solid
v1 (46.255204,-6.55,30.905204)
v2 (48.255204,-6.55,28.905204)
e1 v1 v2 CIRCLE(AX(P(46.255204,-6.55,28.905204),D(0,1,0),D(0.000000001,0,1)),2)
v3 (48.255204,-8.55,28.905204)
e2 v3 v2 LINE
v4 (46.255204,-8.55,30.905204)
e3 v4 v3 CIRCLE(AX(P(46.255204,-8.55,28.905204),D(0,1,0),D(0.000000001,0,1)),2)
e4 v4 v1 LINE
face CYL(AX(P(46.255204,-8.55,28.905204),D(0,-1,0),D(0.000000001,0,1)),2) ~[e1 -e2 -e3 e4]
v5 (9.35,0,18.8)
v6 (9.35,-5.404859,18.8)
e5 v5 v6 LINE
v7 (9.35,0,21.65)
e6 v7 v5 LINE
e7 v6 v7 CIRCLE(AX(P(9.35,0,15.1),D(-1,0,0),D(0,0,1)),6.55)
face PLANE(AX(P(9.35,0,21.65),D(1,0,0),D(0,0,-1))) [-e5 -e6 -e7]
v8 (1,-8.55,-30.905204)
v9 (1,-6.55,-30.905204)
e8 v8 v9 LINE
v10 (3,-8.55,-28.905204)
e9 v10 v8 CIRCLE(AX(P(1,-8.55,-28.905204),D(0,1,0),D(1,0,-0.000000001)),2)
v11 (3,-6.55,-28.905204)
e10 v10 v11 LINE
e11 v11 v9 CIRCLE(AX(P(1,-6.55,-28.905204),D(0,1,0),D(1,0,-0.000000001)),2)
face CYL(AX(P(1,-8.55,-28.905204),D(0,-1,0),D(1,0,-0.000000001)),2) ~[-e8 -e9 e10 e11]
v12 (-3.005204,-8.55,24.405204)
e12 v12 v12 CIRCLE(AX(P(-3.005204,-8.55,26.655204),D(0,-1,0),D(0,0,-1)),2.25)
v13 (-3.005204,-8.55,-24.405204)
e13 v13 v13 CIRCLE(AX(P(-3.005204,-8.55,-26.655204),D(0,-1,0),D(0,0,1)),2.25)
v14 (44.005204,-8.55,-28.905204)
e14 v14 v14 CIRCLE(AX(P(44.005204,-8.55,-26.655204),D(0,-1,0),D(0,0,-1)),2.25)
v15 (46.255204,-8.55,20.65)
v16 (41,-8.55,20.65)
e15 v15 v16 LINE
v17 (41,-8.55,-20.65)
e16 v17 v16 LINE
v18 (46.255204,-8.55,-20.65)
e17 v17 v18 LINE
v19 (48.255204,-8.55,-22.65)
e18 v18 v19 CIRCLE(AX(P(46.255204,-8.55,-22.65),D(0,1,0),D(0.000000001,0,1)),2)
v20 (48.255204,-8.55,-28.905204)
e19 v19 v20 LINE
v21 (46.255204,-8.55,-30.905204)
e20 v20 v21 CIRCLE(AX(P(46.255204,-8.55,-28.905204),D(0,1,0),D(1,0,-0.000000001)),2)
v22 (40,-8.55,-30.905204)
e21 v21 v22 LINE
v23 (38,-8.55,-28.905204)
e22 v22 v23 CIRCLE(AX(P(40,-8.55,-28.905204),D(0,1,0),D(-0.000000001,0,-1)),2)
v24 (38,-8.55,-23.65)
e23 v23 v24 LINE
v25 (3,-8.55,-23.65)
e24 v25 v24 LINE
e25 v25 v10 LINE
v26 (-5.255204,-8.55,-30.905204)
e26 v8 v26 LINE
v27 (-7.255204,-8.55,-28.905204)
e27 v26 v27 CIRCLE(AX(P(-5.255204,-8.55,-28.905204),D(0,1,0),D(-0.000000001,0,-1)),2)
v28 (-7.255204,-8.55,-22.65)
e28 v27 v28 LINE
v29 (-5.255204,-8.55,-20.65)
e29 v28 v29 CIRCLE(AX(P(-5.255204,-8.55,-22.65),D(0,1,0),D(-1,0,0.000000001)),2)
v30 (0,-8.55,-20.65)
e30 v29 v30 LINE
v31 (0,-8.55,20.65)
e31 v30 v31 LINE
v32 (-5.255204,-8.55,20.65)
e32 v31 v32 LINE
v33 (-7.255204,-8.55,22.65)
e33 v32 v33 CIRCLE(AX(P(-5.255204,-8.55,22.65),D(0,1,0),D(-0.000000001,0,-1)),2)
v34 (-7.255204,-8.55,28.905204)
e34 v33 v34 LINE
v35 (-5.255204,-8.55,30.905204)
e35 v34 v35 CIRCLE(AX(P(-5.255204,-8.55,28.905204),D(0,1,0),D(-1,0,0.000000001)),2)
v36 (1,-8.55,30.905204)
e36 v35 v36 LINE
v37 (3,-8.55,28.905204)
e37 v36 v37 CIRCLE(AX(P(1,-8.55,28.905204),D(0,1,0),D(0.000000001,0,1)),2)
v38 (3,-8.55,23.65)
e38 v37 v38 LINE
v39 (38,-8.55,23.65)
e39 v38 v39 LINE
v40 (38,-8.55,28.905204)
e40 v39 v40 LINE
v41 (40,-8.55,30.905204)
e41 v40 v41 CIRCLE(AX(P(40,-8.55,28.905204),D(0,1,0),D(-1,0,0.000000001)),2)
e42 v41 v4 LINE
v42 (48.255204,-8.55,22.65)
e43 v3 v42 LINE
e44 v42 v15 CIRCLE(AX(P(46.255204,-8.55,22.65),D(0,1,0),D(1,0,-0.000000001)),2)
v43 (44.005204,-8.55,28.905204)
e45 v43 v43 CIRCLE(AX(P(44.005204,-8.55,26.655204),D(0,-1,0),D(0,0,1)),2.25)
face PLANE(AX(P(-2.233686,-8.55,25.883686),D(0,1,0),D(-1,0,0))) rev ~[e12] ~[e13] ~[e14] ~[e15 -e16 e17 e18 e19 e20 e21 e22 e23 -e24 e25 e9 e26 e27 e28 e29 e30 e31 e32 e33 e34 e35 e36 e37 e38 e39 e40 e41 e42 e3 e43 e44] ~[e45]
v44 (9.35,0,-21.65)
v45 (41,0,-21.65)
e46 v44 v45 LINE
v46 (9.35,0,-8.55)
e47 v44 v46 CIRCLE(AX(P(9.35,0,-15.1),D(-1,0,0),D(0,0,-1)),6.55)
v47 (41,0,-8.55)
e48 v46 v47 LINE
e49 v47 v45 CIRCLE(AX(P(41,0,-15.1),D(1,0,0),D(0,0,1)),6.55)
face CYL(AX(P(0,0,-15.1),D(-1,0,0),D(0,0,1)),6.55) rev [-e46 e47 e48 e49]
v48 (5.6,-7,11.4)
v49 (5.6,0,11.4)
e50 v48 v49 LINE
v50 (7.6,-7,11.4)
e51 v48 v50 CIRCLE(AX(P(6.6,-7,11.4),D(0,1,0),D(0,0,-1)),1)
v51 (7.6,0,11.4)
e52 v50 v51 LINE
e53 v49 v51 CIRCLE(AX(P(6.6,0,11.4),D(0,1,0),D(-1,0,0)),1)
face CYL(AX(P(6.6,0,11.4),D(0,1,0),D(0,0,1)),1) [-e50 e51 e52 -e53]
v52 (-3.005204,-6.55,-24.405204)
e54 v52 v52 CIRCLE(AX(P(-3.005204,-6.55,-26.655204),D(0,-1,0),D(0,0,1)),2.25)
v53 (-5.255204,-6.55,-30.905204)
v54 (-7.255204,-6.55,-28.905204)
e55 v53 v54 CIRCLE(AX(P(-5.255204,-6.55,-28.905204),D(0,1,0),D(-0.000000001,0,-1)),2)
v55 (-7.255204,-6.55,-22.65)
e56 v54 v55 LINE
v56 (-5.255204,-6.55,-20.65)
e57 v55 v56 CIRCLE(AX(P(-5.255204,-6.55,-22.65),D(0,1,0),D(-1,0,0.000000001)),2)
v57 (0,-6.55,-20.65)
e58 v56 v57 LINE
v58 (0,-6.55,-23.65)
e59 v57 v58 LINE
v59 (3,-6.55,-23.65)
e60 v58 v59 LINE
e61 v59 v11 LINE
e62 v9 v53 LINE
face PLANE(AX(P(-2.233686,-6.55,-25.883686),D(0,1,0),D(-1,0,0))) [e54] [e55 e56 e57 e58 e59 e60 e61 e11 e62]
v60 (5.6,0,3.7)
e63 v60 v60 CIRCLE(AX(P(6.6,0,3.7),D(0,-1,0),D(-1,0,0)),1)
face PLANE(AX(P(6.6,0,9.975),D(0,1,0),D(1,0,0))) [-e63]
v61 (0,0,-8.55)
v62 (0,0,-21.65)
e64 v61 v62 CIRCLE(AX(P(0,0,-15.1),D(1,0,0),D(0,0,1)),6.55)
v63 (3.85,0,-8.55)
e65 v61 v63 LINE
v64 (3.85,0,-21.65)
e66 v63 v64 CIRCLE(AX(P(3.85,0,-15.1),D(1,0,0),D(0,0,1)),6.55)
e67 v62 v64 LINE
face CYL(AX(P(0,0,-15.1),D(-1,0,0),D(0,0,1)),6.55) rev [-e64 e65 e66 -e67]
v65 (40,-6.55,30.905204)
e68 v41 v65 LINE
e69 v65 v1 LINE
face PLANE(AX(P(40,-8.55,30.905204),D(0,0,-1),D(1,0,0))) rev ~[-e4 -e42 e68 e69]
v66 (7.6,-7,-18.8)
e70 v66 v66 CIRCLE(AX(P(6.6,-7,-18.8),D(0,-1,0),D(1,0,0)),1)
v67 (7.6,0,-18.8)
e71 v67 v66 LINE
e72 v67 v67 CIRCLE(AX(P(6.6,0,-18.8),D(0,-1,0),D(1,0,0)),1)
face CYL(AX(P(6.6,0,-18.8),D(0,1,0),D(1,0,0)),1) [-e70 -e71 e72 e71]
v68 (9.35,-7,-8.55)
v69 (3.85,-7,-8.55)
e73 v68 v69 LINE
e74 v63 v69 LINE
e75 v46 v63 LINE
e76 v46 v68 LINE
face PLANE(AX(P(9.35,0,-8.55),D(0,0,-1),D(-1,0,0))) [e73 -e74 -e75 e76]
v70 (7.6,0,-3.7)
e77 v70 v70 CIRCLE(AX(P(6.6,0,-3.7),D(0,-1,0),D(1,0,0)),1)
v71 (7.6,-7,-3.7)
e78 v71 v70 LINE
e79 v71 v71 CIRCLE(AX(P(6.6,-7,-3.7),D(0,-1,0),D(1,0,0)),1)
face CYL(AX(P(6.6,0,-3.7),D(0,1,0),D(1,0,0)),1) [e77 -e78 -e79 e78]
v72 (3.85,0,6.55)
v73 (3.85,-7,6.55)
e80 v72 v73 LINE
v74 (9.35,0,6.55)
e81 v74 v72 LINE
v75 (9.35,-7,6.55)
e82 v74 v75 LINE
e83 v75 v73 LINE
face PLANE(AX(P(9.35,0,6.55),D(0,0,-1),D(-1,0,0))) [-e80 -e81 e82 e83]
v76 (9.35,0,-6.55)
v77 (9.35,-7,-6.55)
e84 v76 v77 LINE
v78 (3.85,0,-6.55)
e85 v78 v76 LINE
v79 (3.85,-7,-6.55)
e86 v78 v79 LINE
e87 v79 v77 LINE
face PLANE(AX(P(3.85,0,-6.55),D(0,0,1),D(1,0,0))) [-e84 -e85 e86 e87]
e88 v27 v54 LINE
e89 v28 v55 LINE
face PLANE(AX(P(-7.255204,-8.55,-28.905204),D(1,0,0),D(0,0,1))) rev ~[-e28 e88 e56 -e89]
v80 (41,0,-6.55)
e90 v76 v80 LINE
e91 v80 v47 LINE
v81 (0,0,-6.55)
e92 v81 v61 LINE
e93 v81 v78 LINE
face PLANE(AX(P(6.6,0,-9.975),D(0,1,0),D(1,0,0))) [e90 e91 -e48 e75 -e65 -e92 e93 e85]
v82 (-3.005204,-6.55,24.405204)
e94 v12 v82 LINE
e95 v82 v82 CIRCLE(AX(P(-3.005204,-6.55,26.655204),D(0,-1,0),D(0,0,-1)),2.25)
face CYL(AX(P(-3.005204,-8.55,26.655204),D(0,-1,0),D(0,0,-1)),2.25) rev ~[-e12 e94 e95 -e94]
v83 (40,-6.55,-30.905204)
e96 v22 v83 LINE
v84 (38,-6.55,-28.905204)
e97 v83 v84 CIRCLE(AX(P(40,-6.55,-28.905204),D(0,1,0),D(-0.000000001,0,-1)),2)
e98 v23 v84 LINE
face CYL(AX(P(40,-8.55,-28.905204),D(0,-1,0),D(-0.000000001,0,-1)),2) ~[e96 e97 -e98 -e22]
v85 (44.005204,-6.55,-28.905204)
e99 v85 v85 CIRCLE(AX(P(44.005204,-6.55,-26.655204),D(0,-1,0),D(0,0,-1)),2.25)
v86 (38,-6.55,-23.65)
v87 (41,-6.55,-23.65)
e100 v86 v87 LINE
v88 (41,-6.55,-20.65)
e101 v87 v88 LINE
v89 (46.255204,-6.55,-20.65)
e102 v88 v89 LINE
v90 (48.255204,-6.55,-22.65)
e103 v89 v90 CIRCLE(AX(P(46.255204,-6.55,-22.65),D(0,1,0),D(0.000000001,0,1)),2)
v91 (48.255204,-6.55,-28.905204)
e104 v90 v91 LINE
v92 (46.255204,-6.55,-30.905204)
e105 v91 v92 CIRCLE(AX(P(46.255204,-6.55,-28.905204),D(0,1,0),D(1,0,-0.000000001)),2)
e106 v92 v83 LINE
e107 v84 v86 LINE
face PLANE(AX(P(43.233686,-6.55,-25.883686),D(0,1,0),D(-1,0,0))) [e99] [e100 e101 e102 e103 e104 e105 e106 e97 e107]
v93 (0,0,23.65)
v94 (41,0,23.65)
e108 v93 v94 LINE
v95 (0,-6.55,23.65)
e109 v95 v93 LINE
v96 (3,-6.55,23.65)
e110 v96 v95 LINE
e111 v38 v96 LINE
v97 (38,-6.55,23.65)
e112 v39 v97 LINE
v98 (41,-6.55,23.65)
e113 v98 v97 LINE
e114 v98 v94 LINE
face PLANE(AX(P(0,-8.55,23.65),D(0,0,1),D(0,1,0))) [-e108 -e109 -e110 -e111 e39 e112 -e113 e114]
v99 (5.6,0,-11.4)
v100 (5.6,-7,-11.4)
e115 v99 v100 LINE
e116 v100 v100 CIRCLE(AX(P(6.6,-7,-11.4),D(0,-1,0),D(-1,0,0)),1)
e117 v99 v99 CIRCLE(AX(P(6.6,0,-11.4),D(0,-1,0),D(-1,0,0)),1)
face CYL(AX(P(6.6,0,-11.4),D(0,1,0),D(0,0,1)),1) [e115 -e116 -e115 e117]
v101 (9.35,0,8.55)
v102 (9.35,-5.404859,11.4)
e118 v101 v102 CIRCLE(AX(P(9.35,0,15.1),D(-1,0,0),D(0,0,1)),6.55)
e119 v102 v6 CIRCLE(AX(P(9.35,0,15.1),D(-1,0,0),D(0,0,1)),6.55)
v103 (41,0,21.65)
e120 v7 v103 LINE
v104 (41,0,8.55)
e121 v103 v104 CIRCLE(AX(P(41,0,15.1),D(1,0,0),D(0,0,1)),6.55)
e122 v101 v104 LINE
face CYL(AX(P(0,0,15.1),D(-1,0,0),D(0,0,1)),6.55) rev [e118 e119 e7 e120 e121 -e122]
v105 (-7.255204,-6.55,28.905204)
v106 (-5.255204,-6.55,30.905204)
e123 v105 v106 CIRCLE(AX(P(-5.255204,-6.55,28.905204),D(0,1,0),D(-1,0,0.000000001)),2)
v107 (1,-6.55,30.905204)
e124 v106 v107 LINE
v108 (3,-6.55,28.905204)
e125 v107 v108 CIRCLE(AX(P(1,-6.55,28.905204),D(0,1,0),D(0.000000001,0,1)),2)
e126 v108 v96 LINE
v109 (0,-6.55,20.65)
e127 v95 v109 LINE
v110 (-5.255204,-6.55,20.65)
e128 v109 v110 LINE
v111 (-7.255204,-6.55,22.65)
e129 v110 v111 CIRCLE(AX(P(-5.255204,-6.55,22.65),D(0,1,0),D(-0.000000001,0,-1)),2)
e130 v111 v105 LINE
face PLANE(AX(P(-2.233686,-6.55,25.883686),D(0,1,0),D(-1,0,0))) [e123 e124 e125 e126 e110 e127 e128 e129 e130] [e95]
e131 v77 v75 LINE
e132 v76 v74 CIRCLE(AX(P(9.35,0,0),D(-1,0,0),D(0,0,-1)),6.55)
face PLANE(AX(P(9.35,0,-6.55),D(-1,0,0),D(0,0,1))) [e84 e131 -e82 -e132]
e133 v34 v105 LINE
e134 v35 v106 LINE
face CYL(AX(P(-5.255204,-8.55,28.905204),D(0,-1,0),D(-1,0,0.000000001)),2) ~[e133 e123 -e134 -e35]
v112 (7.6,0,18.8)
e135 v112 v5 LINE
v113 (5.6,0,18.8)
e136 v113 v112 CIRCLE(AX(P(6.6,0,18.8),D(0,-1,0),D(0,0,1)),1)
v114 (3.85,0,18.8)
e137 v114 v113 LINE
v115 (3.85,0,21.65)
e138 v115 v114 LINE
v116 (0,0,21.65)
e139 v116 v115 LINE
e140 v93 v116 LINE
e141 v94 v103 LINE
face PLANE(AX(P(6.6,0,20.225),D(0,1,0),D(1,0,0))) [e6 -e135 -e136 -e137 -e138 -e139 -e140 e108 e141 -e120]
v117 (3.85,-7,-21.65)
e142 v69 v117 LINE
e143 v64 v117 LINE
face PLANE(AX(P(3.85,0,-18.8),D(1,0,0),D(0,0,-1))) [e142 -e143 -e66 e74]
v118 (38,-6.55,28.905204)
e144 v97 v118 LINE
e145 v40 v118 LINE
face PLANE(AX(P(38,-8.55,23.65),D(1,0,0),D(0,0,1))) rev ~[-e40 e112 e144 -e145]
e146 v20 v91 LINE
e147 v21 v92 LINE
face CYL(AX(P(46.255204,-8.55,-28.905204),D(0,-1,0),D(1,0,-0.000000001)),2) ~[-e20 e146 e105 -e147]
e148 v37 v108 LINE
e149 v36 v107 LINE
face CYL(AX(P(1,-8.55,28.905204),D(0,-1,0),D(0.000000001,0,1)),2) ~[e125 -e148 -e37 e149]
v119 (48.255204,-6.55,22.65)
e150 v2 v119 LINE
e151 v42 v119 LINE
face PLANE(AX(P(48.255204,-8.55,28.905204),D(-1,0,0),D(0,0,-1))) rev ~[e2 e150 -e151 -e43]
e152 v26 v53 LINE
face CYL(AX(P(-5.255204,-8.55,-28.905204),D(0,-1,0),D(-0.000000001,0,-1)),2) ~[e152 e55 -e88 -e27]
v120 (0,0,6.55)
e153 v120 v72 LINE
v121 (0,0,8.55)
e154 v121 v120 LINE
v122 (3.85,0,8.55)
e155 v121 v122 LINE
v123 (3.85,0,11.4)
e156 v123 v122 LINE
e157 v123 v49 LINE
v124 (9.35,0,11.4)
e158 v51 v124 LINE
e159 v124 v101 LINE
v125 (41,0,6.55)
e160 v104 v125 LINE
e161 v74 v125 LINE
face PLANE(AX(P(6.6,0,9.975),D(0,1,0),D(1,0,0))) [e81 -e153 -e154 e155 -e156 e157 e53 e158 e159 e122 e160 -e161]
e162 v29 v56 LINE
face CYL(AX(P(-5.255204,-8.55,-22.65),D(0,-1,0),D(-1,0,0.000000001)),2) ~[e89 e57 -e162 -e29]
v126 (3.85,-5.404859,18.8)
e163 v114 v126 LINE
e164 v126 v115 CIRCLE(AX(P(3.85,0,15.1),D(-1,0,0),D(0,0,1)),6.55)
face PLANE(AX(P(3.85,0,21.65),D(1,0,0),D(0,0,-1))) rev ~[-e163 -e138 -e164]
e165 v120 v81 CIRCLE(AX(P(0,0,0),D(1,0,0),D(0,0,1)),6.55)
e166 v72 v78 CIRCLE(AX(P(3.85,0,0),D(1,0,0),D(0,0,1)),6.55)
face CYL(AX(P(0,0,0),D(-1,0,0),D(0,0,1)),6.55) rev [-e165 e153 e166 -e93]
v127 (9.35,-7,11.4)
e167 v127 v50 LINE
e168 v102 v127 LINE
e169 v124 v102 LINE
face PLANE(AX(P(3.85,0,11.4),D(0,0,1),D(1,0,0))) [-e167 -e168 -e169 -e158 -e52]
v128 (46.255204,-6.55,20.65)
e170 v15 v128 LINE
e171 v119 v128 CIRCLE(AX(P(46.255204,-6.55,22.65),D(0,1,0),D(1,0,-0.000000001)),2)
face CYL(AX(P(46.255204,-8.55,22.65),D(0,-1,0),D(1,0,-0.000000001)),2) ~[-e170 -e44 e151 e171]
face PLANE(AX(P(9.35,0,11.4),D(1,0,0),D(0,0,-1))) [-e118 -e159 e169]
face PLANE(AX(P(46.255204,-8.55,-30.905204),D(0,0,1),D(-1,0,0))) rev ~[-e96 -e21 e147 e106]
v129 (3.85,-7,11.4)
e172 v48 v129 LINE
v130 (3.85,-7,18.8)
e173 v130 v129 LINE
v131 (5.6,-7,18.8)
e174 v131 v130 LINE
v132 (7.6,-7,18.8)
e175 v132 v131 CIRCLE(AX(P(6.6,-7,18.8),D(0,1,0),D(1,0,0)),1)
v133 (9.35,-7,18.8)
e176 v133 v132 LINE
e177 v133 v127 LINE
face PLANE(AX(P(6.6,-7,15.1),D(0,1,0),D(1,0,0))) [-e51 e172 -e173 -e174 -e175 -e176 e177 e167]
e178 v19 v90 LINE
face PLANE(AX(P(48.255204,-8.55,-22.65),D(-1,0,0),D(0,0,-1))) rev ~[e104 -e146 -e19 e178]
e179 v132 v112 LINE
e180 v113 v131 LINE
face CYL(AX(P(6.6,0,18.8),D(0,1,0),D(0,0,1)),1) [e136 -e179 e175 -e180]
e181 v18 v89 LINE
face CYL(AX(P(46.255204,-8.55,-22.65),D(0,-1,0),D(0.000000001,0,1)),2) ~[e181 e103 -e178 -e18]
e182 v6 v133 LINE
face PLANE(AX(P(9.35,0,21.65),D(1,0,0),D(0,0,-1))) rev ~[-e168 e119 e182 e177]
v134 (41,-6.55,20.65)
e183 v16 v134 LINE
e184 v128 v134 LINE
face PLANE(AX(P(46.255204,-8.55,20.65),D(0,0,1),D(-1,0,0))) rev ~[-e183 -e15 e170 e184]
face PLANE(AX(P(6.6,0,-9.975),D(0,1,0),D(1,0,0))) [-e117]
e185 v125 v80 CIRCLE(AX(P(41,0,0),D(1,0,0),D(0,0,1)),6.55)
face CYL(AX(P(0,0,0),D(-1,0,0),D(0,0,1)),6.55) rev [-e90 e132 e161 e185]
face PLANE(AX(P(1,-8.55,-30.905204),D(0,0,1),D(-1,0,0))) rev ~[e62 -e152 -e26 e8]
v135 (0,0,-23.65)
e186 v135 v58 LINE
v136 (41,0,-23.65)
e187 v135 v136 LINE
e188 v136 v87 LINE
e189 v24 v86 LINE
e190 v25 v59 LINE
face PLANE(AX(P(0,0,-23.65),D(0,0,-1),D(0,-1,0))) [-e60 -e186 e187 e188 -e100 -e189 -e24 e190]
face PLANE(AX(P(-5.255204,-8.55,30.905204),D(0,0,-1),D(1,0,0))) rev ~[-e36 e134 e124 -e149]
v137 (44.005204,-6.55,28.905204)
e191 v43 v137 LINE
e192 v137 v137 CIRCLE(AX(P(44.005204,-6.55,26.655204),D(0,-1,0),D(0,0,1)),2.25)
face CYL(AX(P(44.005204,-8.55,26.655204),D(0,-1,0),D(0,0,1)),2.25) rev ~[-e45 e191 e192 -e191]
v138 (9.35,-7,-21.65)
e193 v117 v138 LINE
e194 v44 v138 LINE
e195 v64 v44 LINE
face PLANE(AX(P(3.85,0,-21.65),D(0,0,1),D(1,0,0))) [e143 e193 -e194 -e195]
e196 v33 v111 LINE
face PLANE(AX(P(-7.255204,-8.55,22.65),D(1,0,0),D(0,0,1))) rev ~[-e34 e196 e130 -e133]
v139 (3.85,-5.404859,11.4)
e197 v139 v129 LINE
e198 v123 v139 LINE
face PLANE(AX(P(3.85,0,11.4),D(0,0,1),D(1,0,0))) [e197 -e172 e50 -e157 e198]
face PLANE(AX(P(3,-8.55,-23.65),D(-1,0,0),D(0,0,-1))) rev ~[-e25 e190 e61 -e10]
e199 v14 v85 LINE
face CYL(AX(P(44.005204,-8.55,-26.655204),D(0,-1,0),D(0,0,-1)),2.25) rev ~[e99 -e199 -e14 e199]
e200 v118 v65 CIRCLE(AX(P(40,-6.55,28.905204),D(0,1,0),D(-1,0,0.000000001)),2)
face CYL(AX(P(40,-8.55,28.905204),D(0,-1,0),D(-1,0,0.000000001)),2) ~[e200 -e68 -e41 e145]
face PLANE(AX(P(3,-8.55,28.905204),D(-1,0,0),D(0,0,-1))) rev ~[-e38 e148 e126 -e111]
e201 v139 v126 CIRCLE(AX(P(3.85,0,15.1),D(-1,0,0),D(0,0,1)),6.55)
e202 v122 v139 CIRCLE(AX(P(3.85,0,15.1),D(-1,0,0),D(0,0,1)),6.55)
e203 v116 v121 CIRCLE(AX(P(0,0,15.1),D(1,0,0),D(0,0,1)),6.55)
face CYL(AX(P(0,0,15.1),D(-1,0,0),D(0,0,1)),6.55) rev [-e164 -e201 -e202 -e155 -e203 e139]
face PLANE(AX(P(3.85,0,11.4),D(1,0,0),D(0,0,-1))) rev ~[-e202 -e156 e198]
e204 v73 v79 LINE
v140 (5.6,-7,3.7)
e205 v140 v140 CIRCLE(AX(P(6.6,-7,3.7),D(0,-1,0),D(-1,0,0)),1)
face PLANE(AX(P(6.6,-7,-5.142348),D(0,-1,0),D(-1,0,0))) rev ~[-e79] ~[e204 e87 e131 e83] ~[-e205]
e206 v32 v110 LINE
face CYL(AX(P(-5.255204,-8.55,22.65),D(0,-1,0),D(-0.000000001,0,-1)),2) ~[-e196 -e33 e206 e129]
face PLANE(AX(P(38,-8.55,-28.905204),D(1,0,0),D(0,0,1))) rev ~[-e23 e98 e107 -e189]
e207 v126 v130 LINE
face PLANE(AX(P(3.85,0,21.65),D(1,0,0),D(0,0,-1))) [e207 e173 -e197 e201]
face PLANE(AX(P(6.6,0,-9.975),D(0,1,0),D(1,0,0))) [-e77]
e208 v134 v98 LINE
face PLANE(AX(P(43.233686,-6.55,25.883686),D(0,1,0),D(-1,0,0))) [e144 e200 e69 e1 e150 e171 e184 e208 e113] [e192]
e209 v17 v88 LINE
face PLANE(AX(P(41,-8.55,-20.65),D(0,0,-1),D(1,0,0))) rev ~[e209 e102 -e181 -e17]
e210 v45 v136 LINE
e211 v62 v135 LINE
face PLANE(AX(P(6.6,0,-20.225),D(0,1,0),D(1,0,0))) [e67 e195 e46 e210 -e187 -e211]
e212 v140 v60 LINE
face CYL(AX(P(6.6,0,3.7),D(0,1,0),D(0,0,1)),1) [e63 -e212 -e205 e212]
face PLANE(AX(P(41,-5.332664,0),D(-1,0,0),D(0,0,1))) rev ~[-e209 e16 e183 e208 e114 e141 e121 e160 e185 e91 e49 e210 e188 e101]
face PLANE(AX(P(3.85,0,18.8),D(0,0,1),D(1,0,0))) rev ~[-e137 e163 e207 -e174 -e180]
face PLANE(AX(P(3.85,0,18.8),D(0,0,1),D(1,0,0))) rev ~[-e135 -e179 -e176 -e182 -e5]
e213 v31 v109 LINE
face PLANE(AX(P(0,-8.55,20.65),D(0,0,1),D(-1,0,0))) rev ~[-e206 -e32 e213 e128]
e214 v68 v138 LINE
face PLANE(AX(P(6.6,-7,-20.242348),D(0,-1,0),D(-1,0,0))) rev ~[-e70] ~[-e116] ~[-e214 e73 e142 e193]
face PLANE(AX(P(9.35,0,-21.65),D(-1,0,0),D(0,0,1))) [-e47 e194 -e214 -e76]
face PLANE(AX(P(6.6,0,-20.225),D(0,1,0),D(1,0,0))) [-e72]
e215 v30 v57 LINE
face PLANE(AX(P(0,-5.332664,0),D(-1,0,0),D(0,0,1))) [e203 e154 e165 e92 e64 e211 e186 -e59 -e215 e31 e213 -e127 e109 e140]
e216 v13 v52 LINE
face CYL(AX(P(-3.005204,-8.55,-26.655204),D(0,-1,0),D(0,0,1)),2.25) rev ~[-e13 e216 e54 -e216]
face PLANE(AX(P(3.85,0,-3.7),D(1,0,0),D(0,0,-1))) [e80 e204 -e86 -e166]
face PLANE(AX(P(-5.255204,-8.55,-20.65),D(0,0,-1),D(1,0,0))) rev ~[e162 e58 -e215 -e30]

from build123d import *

# Parameters (mm, degrees)
BOSS_EXTRUDE1_DEPTH = 41
BOSS_EXTRUDE2_REACH = 50.098
SKETCH2_R           = 1
SKETCH4_W           = 5.5
SKETCH4_H           = 13.1
SKETCH4_R           = 1
CUT_EXTRUDE1_DEPTH  = 7
SKETCH5_R           = 2.25
BOSS_EXTRUDE3_DEPTH = 2
BOSS_EXTRUDE4_REACH = 59.938
SKETCH6_W           = 5.5
SKETCH6_H           = 2.85
CUT_EXTRUDE2_DEPTH  = 7


with BuildPart() as part:
    # Sketch1 → Boss-Extrude1 (new body)
    with BuildSketch(Plane(origin=(0, 0, 0), x_dir=(0, 0, -1), z_dir=(1, 0, 0))):
        with BuildLine():
            Line((-8.55, 0), (-6.55, 0))
            ThreePointArc((-6.55, 0), (0, -6.55), (6.55, 0))
            Line((6.55, 0), (8.55, 0))
            ThreePointArc((8.55, 0), (15.1, -6.55), (21.65, 0))
            Line((21.65, 0), (23.65, 0))
            Line((23.65, 0), (23.65, -8.55))
            Line((23.65, -8.55), (-23.65, -8.55))
            Line((-23.65, -8.55), (-23.65, 0))
            Line((-23.65, 0), (-21.65, 0))
            ThreePointArc((-21.65, 0), (-15.1, -6.55), (-8.55, 0))
        make_face()
    extrude(amount=BOSS_EXTRUDE1_DEPTH)

    # Sketch2 → Boss-Extrude2 (add, up to next)
    with BuildSketch(Plane(origin=(0, 0, 0), x_dir=(1, 0, 0), z_dir=(0, 1, 0)), mode=Mode.PRIVATE) as boss_extrude2_sk1:
        with Locations(Location((6.6, 3.7, 0), (0, 0, 270))):
            Circle(SKETCH2_R)
    boss_extrude2_tool1 = extrude(boss_extrude2_sk1.sketch, amount=-BOSS_EXTRUDE2_REACH, mode=Mode.PRIVATE) - part.part
    # Sketch2 → Boss-Extrude2 (add, up to next)
    with BuildSketch(Plane(origin=(0, 0, 0), x_dir=(1, 0, 0), z_dir=(0, 1, 0)), mode=Mode.PRIVATE) as boss_extrude2_sk2:
        with Locations(Location((6.6, -3.7, 0), (0, 0, 270))):
            Circle(SKETCH2_R)
    boss_extrude2_tool2 = extrude(boss_extrude2_sk2.sketch, amount=-BOSS_EXTRUDE2_REACH, mode=Mode.PRIVATE) - part.part
    # Sketch2 → Boss-Extrude2 (add, up to next)
    with BuildSketch(Plane(origin=(0, 0, 0), x_dir=(1, 0, 0), z_dir=(0, 1, 0)), mode=Mode.PRIVATE) as boss_extrude2_sk3:
        with Locations(Location((6.6, -11.4, 0), (0, 0, 270))):
            Circle(SKETCH2_R)
    boss_extrude2_tool3 = extrude(boss_extrude2_sk3.sketch, amount=-BOSS_EXTRUDE2_REACH, mode=Mode.PRIVATE) - part.part
    # Sketch2 → Boss-Extrude2 (add, up to next)
    with BuildSketch(Plane(origin=(0, 0, 0), x_dir=(1, 0, 0), z_dir=(0, 1, 0)), mode=Mode.PRIVATE) as boss_extrude2_sk4:
        with Locations(Location((6.6, -18.8, 0), (0, 0, 270))):
            Circle(SKETCH2_R)
    boss_extrude2_tool4 = extrude(boss_extrude2_sk4.sketch, amount=-BOSS_EXTRUDE2_REACH, mode=Mode.PRIVATE) - part.part
    # Sketch2 → Boss-Extrude2 (add, up to next)
    with BuildSketch(Plane(origin=(0, 0, 0), x_dir=(1, 0, 0), z_dir=(0, 1, 0)), mode=Mode.PRIVATE) as boss_extrude2_sk5:
        with Locations(Location((6.6, 18.8, 0), (0, 0, 270))):
            Circle(SKETCH2_R)
    boss_extrude2_tool5 = extrude(boss_extrude2_sk5.sketch, amount=-BOSS_EXTRUDE2_REACH, mode=Mode.PRIVATE) - part.part
    # Sketch2 → Boss-Extrude2 (add, up to next)
    with BuildSketch(Plane(origin=(0, 0, 0), x_dir=(1, 0, 0), z_dir=(0, 1, 0)), mode=Mode.PRIVATE) as boss_extrude2_sk6:
        with Locations(Location((6.6, 11.4, 0), (0, 0, 270))):
            Circle(SKETCH2_R)
    boss_extrude2_tool6 = extrude(boss_extrude2_sk6.sketch, amount=-BOSS_EXTRUDE2_REACH, mode=Mode.PRIVATE) - part.part
    add(boss_extrude2_tool1.solids().sort_by_distance((6.6, 0, -3.7))[0])
    add(boss_extrude2_tool2.solids().sort_by_distance((6.6, 0, 3.7))[0])
    add(boss_extrude2_tool3.solids().sort_by_distance((6.6, 0, 11.4))[0])
    add(boss_extrude2_tool4.solids().sort_by_distance((6.6, 0, 18.8))[0])
    add(boss_extrude2_tool5.solids().sort_by_distance((6.6, 0, -18.8))[0])
    add(boss_extrude2_tool6.solids().sort_by_distance((6.6, 0, -11.4))[0])

    # Sketch4 → Cut-Extrude1 (cut)
    # profile 1 of 3: a face of its own
    with BuildSketch(Plane(origin=(0, 0, 0), x_dir=(1, 0, 0), z_dir=(0, 1, 0))):
        with Locations((6.6, 0)):
            Rectangle(SKETCH4_W, SKETCH4_H)
        with Locations(Location((6.6, 3.7, 0), (0, 0, 270))):
            Circle(SKETCH4_R, mode=Mode.SUBTRACT)
        with Locations(Location((6.6, -3.7, 0), (0, 0, 270))):
            Circle(SKETCH4_R, mode=Mode.SUBTRACT)
    # profile 2 of 3: a face of its own
    with BuildSketch(Plane(origin=(0, 0, 0), x_dir=(1, 0, 0), z_dir=(0, 1, 0))):
        with Locations((6.6, -15.1)):
            Rectangle(SKETCH4_W, SKETCH4_H)
        with Locations(Location((6.6, -11.4, 0), (0, 0, 90))):
            Circle(SKETCH4_R, mode=Mode.SUBTRACT)
        with Locations(Location((6.6, -18.8, 0), (0, 0, 90))):
            Circle(SKETCH4_R, mode=Mode.SUBTRACT)
    # profile 3 of 3: a face of its own
    with BuildSketch(Plane(origin=(0, 0, 0), x_dir=(1, 0, 0), z_dir=(0, 1, 0))):
        with Locations((6.6, 15.1)):
            Rectangle(SKETCH4_W, SKETCH4_H)
        with Locations(Location((6.6, 11.4, 0), (0, 0, 90))):
            Circle(SKETCH4_R, mode=Mode.SUBTRACT)
        with Locations(Location((6.6, 18.8, 0), (0, 0, 90))):
            Circle(SKETCH4_R, mode=Mode.SUBTRACT)
    extrude(amount=-CUT_EXTRUDE1_DEPTH, mode=Mode.SUBTRACT)

    # Sketch5 → Boss-Extrude3 (add)
    # profile 1 of 4: a face of its own
    with BuildSketch(Plane.XZ.offset(8.55)):
        with BuildLine():
            Line((0, 23.65), (0, 20.65))
            Line((0, 20.65), (-5.25520382, 20.65))
            ThreePointArc((-5.25520382, 20.65), (-6.669417382, 21.235786438), (-7.25520382, 22.65))
            Line((-7.25520382, 22.65), (-7.25520382, 28.90520382))
            ThreePointArc((-7.25520382, 28.90520382), (-6.669417382, 30.319417382), (-5.25520382, 30.90520382))
            Line((-5.25520382, 30.90520382), (1, 30.90520382))
            ThreePointArc((1, 30.90520382), (2.414213562, 30.319417382), (3, 28.90520382))
            Line((3, 28.90520382), (3, 23.65))
            Line((3, 23.65), (0, 23.65))
        make_face()
        with Locations(Location((-3.00520382, 26.65520382, 0), (0, 0, 270))):
            Circle(SKETCH5_R, mode=Mode.SUBTRACT)
    # profile 2 of 4: a face of its own
    with BuildSketch(Plane.XZ.offset(8.55)):
        with BuildLine():
            Line((0, -23.65), (3, -23.65))
            Line((3, -23.65), (3, -28.90520382))
            ThreePointArc((3, -28.90520382), (2.414213562, -30.319417382), (1, -30.90520382))
            Line((1, -30.90520382), (-5.25520382, -30.90520382))
            ThreePointArc((-5.25520382, -30.90520382), (-6.669417382, -30.319417382), (-7.25520382, -28.90520382))
            Line((-7.25520382, -28.90520382), (-7.25520382, -22.65))
            ThreePointArc((-7.25520382, -22.65), (-6.669417382, -21.235786438), (-5.25520382, -20.65))
            Line((-5.25520382, -20.65), (0, -20.65))
            Line((0, -20.65), (0, -23.65))
        make_face()
        with Locations(Location((-3.00520382, -26.65520382, 0), (0, 0, 90))):
            Circle(SKETCH5_R, mode=Mode.SUBTRACT)
    # profile 3 of 4: a face of its own
    with BuildSketch(Plane.XZ.offset(8.55)):
        with BuildLine():
            Line((41, -23.65), (41, -20.65))
            Line((41, -20.65), (46.25520382, -20.65))
            ThreePointArc((46.25520382, -20.65), (47.669417382, -21.235786438), (48.25520382, -22.65))
            Line((48.25520382, -22.65), (48.25520382, -28.90520382))
            ThreePointArc((48.25520382, -28.90520382), (47.669417382, -30.319417382), (46.25520382, -30.90520382))
            Line((46.25520382, -30.90520382), (40, -30.90520382))
            ThreePointArc((40, -30.90520382), (38.585786438, -30.319417382), (38, -28.90520382))
            Line((38, -28.90520382), (38, -23.65))
            Line((38, -23.65), (41, -23.65))
        make_face()
        with Locations(Location((44.00520382, -26.65520382, 0), (0, 0, 270))):
            Circle(SKETCH5_R, mode=Mode.SUBTRACT)
    # profile 4 of 4: a face of its own
    with BuildSketch(Plane.XZ.offset(8.55)):
        with BuildLine():
            Line((41, 23.65), (38, 23.65))
            Line((38, 23.65), (38, 28.90520382))
            ThreePointArc((38, 28.90520382), (38.585786438, 30.319417382), (40, 30.90520382))
            Line((40, 30.90520382), (46.25520382, 30.90520382))
            ThreePointArc((46.25520382, 30.90520382), (47.669417382, 30.319417382), (48.25520382, 28.90520382))
            Line((48.25520382, 28.90520382), (48.25520382, 22.65))
            ThreePointArc((48.25520382, 22.65), (47.669417382, 21.235786438), (46.25520382, 20.65))
            Line((46.25520382, 20.65), (41, 20.65))
            Line((41, 20.65), (41, 23.65))
        make_face()
        with Locations(Location((44.00520382, 26.65520382, 0), (0, 0, 90))):
            Circle(SKETCH5_R, mode=Mode.SUBTRACT)
    extrude(amount=-BOSS_EXTRUDE3_DEPTH)

    # Boss-Extrude4: up to this face of the body (flat: up to its plane)
    boss_extrude4_end = Plane(part.part.faces().sort_by_distance((6.6, -7, -15.1))[0])
    # Sketch6 → Boss-Extrude4 (add, up to the picked face)
    with BuildSketch(Plane(origin=(0, 0, 0), x_dir=(1, 0, 0), z_dir=(0, 1, 0)), mode=Mode.PRIVATE) as boss_extrude4_sk1:
        with Locations((6.6, -5.125)):
            Rectangle(SKETCH6_W, SKETCH6_H)
    boss_extrude4_tool1 = split(extrude(boss_extrude4_sk1.sketch, amount=-BOSS_EXTRUDE4_REACH, mode=Mode.PRIVATE), bisect_by=boss_extrude4_end, keep=Keep.BOTH, mode=Mode.PRIVATE)
    # Sketch6 → Boss-Extrude4 (add, up to the picked face)
    with BuildSketch(Plane(origin=(0, 0, 0), x_dir=(1, 0, 0), z_dir=(0, 1, 0)), mode=Mode.PRIVATE) as boss_extrude4_sk2:
        with Locations((6.6, 5.125)):
            Rectangle(SKETCH6_W, SKETCH6_H)
    boss_extrude4_tool2 = split(extrude(boss_extrude4_sk2.sketch, amount=-BOSS_EXTRUDE4_REACH, mode=Mode.PRIVATE), bisect_by=boss_extrude4_end, keep=Keep.BOTH, mode=Mode.PRIVATE)
    # Sketch6 → Boss-Extrude4 (add, up to the picked face)
    with BuildSketch(Plane(origin=(0, 0, 0), x_dir=(1, 0, 0), z_dir=(0, 1, 0)), mode=Mode.PRIVATE) as boss_extrude4_sk3:
        with Locations((6.6, -20.225)):
            Rectangle(SKETCH6_W, SKETCH6_H)
    boss_extrude4_tool3 = split(extrude(boss_extrude4_sk3.sketch, amount=-BOSS_EXTRUDE4_REACH, mode=Mode.PRIVATE), bisect_by=boss_extrude4_end, keep=Keep.BOTH, mode=Mode.PRIVATE)
    # Sketch6 → Boss-Extrude4 (add, up to the picked face)
    with BuildSketch(Plane(origin=(0, 0, 0), x_dir=(1, 0, 0), z_dir=(0, 1, 0)), mode=Mode.PRIVATE) as boss_extrude4_sk4:
        with Locations((6.6, -9.975)):
            Rectangle(SKETCH6_W, SKETCH6_H)
    boss_extrude4_tool4 = split(extrude(boss_extrude4_sk4.sketch, amount=-BOSS_EXTRUDE4_REACH, mode=Mode.PRIVATE), bisect_by=boss_extrude4_end, keep=Keep.BOTH, mode=Mode.PRIVATE)
    # Sketch6 → Boss-Extrude4 (add, up to the picked face)
    with BuildSketch(Plane(origin=(0, 0, 0), x_dir=(1, 0, 0), z_dir=(0, 1, 0)), mode=Mode.PRIVATE) as boss_extrude4_sk5:
        with Locations((6.6, 9.975)):
            Rectangle(SKETCH6_W, SKETCH6_H)
    boss_extrude4_tool5 = split(extrude(boss_extrude4_sk5.sketch, amount=-BOSS_EXTRUDE4_REACH, mode=Mode.PRIVATE), bisect_by=boss_extrude4_end, keep=Keep.BOTH, mode=Mode.PRIVATE)
    # Sketch6 → Boss-Extrude4 (add, up to the picked face)
    with BuildSketch(Plane(origin=(0, 0, 0), x_dir=(1, 0, 0), z_dir=(0, 1, 0)), mode=Mode.PRIVATE) as boss_extrude4_sk6:
        with Locations((6.6, 20.225)):
            Rectangle(SKETCH6_W, SKETCH6_H)
    boss_extrude4_tool6 = split(extrude(boss_extrude4_sk6.sketch, amount=-BOSS_EXTRUDE4_REACH, mode=Mode.PRIVATE), bisect_by=boss_extrude4_end, keep=Keep.BOTH, mode=Mode.PRIVATE)
    add(boss_extrude4_tool1.solids().sort_by(Axis((6.6, 0, 5.125), (0, -1, 0)))[0])
    add(boss_extrude4_tool2.solids().sort_by(Axis((6.6, 0, -5.125), (0, -1, 0)))[0])
    add(boss_extrude4_tool3.solids().sort_by(Axis((6.6, 0, 20.225), (0, -1, 0)))[0])
    add(boss_extrude4_tool4.solids().sort_by(Axis((6.6, 0, 9.975), (0, -1, 0)))[0])
    add(boss_extrude4_tool5.solids().sort_by(Axis((6.6, 0, -9.975), (0, -1, 0)))[0])
    add(boss_extrude4_tool6.solids().sort_by(Axis((6.6, 0, -20.225), (0, -1, 0)))[0])

    # Sketch7 → Cut-Extrude2 (cut)
    with BuildSketch(Plane(origin=(0, 0, 0), x_dir=(1, 0, 0), z_dir=(0, 1, 0))):
        with BuildLine():
            Line((5.6, 3.7), (3.85, 3.7))
            Line((3.85, 3.7), (3.85, 6.55))
            Line((3.85, 6.55), (9.35, 6.55))
            Line((9.35, 6.55), (9.35, 3.7))
            Line((9.35, 3.7), (7.6, 3.7))
            ThreePointArc((7.6, 3.7), (6.6, 4.7), (5.6, 3.7))
        make_face()
        with BuildLine():
            Line((7.6, -3.7), (9.35, -3.7))
            Line((9.35, -3.7), (9.35, -6.55))
            Line((9.35, -6.55), (3.85, -6.55))
            Line((3.85, -6.55), (3.85, -3.7))
            Line((3.85, -3.7), (5.6, -3.7))
            ThreePointArc((5.6, -3.7), (6.6, -4.7), (7.6, -3.7))
        make_face()
        with BuildLine():
            Line((5.6, 18.8), (3.85, 18.8))
            Line((3.85, 18.8), (3.85, 21.65))
            Line((3.85, 21.65), (9.35, 21.65))
            Line((9.35, 21.65), (9.35, 18.8))
            Line((9.35, 18.8), (7.6, 18.8))
            ThreePointArc((7.6, 18.8), (6.6, 19.8), (5.6, 18.8))
        make_face()
        with BuildLine():
            Line((7.6, 11.4), (9.35, 11.4))
            Line((9.35, 11.4), (9.35, 8.55))
            Line((9.35, 8.55), (3.85, 8.55))
            Line((3.85, 8.55), (3.85, 11.4))
            Line((3.85, 11.4), (5.6, 11.4))
            ThreePointArc((5.6, 11.4), (6.6, 10.4), (7.6, 11.4))
        make_face()
    extrude(amount=-CUT_EXTRUDE2_DEPTH, mode=Mode.SUBTRACT)


solid = part.part
